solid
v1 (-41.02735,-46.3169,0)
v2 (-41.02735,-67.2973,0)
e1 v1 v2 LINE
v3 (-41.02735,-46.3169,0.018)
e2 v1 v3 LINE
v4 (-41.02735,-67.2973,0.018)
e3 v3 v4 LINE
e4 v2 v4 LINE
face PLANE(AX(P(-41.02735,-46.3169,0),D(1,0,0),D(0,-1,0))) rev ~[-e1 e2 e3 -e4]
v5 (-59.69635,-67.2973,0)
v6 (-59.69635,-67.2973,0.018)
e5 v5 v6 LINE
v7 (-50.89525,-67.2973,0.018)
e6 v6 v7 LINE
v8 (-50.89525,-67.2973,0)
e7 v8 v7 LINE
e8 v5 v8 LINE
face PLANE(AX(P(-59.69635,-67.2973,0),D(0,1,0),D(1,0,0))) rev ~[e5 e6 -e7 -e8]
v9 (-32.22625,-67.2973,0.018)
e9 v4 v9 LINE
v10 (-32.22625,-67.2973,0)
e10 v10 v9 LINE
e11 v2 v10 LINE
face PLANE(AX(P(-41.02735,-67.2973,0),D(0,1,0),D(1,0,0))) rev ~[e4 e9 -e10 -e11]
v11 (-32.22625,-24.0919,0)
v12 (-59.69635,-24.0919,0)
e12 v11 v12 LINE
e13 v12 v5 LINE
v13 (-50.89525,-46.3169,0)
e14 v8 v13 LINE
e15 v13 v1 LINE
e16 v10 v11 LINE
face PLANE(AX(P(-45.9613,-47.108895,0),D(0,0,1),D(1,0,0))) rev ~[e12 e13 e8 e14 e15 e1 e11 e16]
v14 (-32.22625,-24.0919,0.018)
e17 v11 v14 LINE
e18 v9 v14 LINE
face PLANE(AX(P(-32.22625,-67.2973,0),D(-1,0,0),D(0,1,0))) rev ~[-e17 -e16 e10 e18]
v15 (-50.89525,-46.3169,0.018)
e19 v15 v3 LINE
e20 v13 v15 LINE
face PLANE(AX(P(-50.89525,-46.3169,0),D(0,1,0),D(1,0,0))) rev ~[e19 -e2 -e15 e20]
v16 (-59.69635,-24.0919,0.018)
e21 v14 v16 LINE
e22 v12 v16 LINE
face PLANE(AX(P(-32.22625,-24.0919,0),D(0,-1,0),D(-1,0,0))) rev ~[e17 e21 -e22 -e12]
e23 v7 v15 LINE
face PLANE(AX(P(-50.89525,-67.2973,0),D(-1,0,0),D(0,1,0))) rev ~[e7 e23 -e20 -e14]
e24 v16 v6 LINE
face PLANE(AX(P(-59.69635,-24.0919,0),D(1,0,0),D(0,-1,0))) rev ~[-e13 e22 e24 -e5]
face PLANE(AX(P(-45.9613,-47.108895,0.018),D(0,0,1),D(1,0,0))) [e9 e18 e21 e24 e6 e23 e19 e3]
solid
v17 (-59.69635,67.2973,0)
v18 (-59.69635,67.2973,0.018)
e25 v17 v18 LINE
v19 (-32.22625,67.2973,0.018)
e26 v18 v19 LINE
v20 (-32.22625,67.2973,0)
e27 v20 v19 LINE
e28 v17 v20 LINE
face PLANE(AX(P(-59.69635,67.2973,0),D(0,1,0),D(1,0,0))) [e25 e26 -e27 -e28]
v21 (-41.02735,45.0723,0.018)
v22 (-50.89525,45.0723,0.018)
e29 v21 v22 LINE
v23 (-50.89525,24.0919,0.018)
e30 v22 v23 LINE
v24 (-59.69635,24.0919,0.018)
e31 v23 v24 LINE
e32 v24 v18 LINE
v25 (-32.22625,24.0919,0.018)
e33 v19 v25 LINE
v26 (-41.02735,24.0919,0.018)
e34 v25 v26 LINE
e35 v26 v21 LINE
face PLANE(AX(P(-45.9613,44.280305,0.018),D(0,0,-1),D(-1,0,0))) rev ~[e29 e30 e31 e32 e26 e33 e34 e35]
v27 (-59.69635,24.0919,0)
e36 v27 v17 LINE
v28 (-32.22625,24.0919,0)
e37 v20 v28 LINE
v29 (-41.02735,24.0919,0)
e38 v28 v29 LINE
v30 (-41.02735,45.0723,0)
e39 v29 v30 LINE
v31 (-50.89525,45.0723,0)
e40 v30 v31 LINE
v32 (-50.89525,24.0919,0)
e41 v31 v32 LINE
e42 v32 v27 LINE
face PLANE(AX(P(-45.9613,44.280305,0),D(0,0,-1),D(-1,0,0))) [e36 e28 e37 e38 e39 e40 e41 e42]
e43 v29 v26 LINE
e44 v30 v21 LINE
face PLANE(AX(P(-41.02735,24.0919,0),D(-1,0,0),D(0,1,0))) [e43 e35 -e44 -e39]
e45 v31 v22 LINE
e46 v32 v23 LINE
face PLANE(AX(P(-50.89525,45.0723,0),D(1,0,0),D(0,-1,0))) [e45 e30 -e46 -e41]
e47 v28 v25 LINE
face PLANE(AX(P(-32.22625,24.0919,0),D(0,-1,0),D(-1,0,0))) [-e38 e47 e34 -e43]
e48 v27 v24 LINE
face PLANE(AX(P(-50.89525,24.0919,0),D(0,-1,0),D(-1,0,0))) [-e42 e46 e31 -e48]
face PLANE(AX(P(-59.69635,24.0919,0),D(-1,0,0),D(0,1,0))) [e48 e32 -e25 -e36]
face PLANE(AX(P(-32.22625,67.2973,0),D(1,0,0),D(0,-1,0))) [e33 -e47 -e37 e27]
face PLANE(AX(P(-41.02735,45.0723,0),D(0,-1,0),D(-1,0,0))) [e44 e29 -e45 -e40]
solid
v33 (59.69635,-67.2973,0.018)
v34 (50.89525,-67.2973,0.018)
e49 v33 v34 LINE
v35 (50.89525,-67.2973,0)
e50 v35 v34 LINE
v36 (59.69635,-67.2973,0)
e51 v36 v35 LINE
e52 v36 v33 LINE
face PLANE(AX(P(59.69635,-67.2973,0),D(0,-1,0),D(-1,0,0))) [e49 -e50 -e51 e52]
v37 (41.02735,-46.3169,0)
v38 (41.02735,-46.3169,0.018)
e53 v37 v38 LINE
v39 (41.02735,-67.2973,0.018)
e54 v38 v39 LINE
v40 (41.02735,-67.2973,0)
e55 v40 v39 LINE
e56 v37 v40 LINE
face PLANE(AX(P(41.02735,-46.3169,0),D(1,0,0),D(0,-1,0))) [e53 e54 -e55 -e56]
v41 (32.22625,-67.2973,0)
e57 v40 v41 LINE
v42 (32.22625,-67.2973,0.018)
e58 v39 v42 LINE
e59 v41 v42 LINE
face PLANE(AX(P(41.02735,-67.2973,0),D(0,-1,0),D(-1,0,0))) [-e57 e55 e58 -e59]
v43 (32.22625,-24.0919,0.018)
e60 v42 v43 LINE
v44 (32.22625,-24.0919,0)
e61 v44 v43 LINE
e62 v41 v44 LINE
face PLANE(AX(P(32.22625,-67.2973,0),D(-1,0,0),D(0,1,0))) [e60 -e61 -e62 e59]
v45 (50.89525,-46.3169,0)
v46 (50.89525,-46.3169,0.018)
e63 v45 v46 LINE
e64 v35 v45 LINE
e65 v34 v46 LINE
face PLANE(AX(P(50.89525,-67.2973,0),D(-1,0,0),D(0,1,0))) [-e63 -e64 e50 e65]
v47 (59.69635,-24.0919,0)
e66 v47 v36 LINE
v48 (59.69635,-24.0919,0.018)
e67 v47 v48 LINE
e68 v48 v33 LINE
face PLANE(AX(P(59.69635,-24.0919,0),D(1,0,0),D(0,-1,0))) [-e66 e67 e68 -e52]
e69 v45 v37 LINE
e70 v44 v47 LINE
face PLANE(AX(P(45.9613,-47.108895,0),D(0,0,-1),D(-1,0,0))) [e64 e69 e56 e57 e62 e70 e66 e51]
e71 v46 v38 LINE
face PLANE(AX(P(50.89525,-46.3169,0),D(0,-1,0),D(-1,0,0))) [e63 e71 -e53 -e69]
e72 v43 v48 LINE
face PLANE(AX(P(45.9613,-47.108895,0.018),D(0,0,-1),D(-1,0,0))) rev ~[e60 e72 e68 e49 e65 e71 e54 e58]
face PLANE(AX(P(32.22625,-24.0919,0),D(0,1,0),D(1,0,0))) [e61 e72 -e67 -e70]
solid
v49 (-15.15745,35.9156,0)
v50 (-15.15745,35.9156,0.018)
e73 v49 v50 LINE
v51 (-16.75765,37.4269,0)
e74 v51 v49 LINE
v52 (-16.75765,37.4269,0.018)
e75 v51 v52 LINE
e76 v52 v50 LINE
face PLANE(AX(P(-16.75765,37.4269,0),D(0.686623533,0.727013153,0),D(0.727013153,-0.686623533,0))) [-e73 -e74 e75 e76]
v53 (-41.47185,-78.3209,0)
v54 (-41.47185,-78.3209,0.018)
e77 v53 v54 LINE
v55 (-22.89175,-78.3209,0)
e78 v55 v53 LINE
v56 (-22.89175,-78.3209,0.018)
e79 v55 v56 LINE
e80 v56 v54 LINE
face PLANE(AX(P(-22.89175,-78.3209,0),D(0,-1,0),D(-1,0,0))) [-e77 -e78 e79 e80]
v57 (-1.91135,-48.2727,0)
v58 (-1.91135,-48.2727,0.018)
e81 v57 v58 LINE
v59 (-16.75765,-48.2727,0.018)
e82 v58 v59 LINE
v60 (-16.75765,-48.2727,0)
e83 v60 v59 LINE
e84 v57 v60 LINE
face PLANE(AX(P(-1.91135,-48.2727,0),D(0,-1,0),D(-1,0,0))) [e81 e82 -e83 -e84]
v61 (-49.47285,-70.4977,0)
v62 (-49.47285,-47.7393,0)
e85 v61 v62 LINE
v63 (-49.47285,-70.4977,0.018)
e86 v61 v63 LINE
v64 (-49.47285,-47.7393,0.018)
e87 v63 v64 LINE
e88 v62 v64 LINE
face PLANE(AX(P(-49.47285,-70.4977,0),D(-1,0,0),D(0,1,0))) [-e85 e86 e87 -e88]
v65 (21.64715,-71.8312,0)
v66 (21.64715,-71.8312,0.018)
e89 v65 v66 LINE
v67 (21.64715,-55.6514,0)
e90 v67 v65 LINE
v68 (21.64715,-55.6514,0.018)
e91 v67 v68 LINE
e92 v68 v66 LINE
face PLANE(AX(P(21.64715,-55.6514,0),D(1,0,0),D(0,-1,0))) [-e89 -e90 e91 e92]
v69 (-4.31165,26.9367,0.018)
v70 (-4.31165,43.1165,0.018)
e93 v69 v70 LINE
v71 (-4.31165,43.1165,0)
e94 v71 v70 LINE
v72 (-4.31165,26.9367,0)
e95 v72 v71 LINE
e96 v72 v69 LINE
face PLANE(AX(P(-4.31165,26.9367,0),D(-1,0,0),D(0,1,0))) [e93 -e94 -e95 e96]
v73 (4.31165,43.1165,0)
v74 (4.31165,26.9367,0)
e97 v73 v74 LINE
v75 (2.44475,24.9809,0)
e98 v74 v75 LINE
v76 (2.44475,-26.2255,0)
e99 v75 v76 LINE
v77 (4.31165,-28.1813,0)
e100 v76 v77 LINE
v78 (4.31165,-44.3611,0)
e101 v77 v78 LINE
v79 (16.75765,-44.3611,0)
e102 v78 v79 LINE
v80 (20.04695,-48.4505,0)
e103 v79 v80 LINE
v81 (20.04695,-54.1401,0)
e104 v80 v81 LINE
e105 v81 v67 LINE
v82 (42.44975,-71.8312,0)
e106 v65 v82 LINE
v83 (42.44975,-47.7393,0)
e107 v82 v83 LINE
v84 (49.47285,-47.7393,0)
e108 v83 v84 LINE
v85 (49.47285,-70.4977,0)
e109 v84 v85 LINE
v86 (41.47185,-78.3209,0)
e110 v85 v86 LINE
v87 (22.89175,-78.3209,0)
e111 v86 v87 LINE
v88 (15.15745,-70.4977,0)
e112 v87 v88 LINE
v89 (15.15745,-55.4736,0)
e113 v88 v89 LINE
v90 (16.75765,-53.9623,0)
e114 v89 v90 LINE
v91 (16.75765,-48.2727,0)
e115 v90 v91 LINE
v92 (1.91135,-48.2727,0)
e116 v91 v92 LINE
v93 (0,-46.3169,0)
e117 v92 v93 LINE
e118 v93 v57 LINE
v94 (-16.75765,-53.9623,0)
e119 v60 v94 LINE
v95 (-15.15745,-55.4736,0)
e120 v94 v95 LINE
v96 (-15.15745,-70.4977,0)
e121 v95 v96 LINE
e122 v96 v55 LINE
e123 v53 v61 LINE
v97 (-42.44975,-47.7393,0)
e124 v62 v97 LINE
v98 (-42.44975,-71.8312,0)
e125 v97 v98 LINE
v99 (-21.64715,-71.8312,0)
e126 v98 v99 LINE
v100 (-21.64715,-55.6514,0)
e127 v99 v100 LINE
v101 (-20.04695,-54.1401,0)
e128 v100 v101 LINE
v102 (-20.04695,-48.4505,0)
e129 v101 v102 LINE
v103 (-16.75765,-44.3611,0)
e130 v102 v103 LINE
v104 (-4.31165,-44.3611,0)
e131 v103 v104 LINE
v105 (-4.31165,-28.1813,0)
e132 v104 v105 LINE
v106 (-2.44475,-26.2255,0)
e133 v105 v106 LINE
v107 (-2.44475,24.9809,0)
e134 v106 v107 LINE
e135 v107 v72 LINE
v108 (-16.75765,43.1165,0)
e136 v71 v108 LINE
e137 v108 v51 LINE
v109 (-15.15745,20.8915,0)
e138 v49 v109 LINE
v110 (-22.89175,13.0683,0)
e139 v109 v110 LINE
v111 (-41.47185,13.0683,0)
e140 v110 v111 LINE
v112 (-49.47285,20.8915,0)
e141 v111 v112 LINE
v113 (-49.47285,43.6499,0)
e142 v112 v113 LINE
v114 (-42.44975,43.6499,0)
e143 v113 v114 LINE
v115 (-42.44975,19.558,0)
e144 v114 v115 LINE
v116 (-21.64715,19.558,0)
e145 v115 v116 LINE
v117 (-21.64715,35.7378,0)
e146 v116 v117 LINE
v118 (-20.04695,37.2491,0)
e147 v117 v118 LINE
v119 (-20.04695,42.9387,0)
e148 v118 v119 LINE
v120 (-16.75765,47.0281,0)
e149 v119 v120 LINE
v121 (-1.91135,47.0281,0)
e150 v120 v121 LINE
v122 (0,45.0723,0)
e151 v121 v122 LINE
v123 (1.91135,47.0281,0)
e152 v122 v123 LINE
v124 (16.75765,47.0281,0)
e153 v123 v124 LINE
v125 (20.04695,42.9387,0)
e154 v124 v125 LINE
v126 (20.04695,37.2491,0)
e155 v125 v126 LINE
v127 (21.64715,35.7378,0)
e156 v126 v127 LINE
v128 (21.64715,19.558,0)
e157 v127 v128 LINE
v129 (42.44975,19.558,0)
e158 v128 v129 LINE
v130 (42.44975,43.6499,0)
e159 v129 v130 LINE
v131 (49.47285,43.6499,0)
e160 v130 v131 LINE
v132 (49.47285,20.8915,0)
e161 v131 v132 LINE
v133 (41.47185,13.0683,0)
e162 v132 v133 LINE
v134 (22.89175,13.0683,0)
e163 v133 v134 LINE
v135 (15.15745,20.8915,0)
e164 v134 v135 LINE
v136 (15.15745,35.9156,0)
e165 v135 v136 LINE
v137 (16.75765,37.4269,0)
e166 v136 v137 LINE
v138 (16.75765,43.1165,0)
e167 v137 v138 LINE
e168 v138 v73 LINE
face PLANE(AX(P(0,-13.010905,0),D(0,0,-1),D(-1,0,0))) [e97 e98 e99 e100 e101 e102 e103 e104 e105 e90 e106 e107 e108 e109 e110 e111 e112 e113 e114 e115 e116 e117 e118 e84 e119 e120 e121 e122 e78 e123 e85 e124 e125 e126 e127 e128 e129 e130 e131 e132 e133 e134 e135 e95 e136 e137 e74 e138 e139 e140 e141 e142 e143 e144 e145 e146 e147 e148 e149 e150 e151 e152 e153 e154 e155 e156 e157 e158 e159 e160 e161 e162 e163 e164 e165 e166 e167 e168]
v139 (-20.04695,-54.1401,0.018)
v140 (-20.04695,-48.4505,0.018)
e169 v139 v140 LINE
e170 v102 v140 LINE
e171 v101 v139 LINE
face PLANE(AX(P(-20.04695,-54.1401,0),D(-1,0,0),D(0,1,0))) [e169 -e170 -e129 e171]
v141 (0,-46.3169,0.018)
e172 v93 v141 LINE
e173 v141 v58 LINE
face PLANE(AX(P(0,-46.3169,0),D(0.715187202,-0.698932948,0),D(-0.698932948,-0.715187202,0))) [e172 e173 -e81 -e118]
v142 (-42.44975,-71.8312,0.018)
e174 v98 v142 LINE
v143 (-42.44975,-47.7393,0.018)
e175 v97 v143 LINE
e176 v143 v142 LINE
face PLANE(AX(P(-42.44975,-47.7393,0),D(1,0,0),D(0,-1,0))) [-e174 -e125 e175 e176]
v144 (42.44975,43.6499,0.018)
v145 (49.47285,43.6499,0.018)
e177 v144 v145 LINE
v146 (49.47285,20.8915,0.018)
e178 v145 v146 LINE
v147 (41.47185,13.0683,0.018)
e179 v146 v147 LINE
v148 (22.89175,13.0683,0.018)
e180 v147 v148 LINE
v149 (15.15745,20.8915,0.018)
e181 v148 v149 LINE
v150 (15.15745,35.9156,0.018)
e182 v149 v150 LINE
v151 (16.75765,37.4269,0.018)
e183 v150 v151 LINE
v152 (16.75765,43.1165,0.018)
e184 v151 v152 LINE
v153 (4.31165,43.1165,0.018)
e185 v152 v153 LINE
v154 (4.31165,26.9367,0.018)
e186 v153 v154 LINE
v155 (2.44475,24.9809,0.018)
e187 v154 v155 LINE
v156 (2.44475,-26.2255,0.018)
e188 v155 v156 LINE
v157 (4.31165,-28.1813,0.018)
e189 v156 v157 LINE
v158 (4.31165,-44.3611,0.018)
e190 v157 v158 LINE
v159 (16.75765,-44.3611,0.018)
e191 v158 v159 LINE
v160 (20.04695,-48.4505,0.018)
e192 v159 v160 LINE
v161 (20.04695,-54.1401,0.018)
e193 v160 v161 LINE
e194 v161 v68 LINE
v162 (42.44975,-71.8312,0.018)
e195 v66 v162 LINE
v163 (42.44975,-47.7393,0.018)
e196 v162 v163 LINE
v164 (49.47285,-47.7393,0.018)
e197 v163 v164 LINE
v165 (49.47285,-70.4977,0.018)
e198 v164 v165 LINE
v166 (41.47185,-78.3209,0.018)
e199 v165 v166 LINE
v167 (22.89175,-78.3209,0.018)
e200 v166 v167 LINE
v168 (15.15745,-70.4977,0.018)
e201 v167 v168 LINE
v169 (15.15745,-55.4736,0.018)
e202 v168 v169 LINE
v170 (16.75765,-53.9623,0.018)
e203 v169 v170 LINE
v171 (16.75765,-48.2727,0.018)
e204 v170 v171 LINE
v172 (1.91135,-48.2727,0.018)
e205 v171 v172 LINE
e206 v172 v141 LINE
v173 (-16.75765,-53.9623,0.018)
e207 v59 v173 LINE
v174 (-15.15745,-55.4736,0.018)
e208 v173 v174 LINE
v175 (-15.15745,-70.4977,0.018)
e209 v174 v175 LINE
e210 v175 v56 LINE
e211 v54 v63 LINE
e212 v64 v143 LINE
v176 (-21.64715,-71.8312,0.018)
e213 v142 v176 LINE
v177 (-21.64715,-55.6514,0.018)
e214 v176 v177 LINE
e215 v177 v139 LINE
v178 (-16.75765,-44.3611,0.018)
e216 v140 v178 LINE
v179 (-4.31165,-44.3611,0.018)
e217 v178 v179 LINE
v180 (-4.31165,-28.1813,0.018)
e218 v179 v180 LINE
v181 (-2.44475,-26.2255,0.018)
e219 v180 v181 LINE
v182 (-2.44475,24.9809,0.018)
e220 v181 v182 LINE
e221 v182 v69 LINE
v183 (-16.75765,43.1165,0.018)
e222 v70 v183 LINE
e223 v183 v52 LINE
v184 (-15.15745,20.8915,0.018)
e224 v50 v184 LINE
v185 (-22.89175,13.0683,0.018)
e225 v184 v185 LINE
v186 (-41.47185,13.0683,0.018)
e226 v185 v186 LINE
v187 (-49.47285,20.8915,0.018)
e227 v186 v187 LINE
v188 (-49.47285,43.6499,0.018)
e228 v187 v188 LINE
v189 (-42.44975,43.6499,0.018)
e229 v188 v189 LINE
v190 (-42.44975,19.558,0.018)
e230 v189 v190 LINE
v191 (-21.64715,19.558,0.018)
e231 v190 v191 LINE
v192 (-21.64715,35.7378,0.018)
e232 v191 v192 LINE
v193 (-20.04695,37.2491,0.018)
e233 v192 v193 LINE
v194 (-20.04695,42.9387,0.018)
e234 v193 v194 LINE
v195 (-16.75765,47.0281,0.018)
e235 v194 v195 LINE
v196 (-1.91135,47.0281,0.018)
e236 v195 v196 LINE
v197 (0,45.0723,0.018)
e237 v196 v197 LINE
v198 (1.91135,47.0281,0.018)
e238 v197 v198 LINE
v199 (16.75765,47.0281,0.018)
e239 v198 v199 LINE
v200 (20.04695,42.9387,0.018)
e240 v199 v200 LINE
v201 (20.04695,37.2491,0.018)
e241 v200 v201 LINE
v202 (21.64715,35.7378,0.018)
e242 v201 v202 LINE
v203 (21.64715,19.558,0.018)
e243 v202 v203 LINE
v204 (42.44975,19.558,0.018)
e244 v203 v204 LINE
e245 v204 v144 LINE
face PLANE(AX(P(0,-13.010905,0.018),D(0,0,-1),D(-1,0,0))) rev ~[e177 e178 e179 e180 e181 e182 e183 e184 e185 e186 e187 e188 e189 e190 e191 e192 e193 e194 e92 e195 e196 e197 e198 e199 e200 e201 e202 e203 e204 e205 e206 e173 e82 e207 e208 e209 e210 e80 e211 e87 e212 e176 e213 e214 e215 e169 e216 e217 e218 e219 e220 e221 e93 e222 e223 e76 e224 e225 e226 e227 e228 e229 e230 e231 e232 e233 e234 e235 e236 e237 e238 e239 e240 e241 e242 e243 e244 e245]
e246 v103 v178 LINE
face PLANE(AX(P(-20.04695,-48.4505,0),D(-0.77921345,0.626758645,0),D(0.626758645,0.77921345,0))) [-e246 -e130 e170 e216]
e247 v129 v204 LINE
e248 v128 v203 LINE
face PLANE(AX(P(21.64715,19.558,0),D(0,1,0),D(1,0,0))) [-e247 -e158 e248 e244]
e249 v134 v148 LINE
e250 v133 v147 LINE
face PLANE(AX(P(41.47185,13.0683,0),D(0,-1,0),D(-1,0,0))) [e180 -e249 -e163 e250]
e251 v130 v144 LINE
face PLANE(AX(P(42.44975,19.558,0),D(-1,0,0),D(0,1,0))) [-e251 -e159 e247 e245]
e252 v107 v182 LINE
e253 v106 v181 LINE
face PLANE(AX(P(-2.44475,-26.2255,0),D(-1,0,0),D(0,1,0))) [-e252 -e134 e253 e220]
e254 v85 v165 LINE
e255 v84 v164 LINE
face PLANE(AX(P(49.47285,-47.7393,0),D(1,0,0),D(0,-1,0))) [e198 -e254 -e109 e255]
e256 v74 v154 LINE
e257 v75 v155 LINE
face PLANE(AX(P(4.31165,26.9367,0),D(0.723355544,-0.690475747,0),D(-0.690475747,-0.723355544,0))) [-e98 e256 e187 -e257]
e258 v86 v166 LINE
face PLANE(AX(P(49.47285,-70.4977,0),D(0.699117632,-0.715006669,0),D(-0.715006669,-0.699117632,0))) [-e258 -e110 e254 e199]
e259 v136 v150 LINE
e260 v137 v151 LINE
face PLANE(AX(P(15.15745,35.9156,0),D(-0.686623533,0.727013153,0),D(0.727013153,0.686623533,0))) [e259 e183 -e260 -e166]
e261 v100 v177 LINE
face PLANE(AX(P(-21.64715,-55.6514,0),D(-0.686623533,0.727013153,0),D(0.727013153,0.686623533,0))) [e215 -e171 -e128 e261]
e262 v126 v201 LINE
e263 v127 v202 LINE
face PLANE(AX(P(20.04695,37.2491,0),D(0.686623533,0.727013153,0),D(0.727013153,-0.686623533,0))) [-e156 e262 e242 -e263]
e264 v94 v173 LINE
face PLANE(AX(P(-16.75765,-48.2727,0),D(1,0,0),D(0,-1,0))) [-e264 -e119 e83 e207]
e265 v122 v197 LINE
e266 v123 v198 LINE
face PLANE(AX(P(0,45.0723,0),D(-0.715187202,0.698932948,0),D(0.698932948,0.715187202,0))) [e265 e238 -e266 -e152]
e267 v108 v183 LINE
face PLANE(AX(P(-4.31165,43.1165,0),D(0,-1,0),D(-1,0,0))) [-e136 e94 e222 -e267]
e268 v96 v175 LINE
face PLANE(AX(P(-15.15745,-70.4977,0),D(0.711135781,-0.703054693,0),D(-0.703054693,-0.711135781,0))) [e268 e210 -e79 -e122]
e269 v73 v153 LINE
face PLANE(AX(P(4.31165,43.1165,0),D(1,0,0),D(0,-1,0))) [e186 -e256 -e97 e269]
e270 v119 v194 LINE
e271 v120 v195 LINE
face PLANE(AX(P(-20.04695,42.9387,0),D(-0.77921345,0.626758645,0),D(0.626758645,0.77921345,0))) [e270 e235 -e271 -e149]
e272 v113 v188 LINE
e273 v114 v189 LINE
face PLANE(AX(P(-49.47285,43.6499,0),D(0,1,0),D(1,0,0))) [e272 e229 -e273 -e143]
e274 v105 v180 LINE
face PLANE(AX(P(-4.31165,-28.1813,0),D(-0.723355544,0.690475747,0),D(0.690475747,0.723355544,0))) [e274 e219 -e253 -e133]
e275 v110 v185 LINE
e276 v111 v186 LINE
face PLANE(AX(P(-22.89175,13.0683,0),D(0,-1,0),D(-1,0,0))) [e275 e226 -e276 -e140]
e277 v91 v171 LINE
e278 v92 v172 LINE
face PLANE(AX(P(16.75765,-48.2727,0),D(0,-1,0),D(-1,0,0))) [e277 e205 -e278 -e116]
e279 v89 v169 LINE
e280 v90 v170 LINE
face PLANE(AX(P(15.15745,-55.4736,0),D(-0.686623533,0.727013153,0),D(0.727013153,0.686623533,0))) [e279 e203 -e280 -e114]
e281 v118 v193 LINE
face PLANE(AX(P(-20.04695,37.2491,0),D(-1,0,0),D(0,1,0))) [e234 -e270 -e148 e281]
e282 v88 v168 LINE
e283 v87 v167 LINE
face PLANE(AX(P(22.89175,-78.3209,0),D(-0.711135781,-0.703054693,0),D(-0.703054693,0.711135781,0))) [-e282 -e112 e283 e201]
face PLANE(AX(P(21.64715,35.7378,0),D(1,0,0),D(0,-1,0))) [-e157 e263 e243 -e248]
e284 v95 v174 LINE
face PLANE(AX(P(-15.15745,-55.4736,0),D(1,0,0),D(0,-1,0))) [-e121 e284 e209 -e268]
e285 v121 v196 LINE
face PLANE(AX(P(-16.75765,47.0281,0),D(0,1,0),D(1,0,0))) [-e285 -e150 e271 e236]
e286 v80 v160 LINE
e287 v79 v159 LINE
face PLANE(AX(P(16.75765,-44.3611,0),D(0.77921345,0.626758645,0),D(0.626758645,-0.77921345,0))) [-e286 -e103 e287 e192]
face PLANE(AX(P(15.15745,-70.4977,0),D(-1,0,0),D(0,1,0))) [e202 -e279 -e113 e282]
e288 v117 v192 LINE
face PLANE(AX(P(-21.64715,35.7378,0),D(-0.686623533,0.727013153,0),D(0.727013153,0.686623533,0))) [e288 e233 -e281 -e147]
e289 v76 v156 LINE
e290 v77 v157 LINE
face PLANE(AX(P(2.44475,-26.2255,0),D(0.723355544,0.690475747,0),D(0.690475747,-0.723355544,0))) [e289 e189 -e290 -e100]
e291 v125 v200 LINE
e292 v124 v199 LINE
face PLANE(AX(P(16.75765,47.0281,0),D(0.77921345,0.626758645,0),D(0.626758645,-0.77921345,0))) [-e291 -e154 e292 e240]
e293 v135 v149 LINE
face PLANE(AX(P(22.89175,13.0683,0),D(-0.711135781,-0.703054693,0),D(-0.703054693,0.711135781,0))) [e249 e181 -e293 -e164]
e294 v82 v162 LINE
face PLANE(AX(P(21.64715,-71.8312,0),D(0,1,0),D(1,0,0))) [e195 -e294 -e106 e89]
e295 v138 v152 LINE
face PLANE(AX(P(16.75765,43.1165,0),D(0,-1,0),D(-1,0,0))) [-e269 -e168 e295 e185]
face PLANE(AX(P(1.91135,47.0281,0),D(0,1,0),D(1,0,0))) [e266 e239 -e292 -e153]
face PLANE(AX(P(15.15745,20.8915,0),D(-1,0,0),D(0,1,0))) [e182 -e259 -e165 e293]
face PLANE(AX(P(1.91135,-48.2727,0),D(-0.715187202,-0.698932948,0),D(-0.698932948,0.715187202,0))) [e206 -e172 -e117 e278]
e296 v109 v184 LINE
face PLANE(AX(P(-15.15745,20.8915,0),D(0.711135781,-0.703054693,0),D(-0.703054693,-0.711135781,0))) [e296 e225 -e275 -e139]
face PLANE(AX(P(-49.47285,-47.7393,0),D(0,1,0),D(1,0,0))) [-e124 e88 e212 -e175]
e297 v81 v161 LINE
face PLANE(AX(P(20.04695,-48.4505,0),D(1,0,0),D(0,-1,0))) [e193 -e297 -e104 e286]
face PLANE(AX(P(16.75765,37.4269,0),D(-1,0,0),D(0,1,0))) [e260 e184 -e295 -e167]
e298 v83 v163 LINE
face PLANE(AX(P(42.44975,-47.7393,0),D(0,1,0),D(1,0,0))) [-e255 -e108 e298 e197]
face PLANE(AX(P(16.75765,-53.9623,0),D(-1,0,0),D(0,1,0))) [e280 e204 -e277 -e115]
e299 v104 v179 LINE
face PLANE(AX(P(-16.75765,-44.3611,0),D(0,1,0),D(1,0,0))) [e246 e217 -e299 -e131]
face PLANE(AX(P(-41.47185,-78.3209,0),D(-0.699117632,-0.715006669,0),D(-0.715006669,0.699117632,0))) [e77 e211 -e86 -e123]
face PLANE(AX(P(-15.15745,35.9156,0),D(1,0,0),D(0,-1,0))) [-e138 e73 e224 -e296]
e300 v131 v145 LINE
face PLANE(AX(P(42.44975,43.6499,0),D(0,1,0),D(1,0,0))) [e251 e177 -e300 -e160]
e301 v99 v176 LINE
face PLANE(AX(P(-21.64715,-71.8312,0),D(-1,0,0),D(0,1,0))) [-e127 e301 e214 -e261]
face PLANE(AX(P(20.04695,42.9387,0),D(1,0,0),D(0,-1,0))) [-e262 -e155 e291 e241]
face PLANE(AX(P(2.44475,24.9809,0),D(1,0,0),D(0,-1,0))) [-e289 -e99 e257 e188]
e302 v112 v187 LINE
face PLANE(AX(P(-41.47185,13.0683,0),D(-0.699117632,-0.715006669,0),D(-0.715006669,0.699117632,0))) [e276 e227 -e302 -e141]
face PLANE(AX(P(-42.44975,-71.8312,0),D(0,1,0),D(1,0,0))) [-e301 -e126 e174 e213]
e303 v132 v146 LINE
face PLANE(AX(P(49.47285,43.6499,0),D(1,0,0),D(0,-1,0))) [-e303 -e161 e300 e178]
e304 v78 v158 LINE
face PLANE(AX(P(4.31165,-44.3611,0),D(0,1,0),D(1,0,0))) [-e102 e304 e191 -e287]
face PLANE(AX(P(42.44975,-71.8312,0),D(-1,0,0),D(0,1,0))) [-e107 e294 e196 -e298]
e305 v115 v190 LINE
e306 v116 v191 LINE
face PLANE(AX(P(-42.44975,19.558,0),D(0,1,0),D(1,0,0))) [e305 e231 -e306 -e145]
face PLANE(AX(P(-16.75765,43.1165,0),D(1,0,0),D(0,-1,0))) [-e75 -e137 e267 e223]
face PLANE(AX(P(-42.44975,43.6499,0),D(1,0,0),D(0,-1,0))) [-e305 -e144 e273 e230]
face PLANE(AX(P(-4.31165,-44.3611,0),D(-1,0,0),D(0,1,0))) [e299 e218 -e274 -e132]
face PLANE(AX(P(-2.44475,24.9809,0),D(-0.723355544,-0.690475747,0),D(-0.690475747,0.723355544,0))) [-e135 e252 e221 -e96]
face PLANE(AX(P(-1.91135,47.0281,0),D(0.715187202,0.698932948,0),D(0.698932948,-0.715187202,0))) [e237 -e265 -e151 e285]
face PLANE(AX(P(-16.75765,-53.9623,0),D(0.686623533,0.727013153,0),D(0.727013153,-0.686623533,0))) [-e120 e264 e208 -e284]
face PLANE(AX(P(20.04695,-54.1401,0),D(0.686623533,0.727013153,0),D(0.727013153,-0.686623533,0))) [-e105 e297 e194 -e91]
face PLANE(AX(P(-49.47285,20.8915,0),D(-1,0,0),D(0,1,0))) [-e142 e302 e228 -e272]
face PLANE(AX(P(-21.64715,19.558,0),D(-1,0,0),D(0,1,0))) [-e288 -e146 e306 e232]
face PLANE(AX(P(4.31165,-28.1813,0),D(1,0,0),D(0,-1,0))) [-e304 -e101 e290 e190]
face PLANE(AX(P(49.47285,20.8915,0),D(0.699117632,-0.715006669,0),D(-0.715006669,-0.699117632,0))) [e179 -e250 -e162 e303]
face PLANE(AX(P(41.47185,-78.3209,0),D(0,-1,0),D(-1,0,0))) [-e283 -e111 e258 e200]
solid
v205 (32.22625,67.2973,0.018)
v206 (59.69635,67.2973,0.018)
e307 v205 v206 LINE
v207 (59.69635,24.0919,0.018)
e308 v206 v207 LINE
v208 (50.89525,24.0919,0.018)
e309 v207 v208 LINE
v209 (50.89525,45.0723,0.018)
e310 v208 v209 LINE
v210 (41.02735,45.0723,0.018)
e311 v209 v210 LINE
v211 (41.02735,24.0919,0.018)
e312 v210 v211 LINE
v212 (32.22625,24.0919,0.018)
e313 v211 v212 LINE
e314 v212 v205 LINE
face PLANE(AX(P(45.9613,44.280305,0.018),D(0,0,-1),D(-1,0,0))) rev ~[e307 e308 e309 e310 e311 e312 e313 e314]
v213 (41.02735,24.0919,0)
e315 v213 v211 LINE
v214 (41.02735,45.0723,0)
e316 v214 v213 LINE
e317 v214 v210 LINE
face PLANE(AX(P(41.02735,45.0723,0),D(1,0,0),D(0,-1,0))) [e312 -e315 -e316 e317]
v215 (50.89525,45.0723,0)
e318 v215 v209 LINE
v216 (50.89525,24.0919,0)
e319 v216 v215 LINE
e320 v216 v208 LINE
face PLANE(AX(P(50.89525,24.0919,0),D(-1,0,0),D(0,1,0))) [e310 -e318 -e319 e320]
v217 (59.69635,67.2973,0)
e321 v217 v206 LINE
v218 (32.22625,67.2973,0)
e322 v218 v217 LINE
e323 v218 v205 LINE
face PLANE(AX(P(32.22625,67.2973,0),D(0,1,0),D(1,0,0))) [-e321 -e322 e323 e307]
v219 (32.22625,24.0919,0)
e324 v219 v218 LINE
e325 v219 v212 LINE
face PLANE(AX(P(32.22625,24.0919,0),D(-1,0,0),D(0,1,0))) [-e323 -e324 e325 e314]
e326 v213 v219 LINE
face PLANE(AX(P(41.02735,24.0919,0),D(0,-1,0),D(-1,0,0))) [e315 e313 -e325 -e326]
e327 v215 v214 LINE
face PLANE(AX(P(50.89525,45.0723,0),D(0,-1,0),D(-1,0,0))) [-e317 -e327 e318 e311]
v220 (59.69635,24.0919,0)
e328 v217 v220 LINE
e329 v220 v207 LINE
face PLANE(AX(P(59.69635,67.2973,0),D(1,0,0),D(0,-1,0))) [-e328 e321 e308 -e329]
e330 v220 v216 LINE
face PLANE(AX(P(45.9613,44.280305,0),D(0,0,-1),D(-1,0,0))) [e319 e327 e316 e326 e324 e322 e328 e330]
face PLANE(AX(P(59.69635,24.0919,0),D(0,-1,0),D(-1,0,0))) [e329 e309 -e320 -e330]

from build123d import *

# Parameters (mm, degrees)
FEED_DEPTH    = 0.018
PATCH_DEPTH   = 0.018
PATCH_2_DEPTH = 0.018
PATCH_3_DEPTH = 0.018
PATCH_4_DEPTH = 0.018


with BuildPart() as part:
    # Feed1 → Feed (new body)
    with BuildSketch(Plane.XY):
        Polygon((-49.47285, 43.6499), (-42.44975, 43.6499), (-42.44975, 19.558), (-21.64715, 19.558), (-21.64715, 35.7378), (-20.04695, 37.2491), (-20.04695, 42.9387), (-16.75765, 47.0281), (-1.91135, 47.0281), (0, 45.0723), (1.91135, 47.0281), (16.75765, 47.0281), (20.04695, 42.9387), (20.04695, 37.2491), (21.64715, 35.7378), (21.64715, 19.558), (42.44975, 19.558), (42.44975, 43.6499), (49.47285, 43.6499), (49.47285, 20.8915), (41.47185, 13.0683), (22.89175, 13.0683), (15.15745, 20.8915), (15.15745, 35.9156), (16.75765, 37.4269), (16.75765, 43.1165), (4.31165, 43.1165), (4.31165, 26.9367), (2.44475, 24.9809), (2.44475, -26.2255), (4.31165, -28.1813), (4.31165, -44.3611), (16.75765, -44.3611), (20.04695, -48.4505), (20.04695, -54.1401), (21.64715, -55.6514), (21.64715, -71.8312), (42.44975, -71.8312), (42.44975, -47.7393), (49.47285, -47.7393), (49.47285, -70.4977), (41.47185, -78.3209), (22.89175, -78.3209), (15.15745, -70.4977), (15.15745, -55.4736), (16.75765, -53.9623), (16.75765, -48.2727), (1.91135, -48.2727), (0, -46.3169), (-1.91135, -48.2727), (-16.75765, -48.2727), (-16.75765, -53.9623), (-15.15745, -55.4736), (-15.15745, -70.4977), (-22.89175, -78.3209), (-41.47185, -78.3209), (-49.47285, -70.4977), (-49.47285, -47.7393), (-42.44975, -47.7393), (-42.44975, -71.8312), (-21.64715, -71.8312), (-21.64715, -55.6514), (-20.04695, -54.1401), (-20.04695, -48.4505), (-16.75765, -44.3611), (-4.31165, -44.3611), (-4.31165, -28.1813), (-2.44475, -26.2255), (-2.44475, 24.9809), (-4.31165, 26.9367), (-4.31165, 43.1165), (-16.75765, 43.1165), (-16.75765, 37.4269), (-15.15745, 35.9156), (-15.15745, 20.8915), (-22.89175, 13.0683), (-41.47185, 13.0683), (-49.47285, 20.8915), align=None)
    extrude(amount=FEED_DEPTH)


with BuildPart() as body_2:
    # Patch1 → Patch (new body)
    with BuildSketch(Plane.XY):
        Polygon((-59.69635, 67.2973), (-32.22625, 67.2973), (-32.22625, 24.0919), (-41.02735, 24.0919), (-41.02735, 45.0723), (-50.89525, 45.0723), (-50.89525, 24.0919), (-59.69635, 24.0919), align=None)
    extrude(amount=PATCH_DEPTH)


with BuildPart() as body_3:
    # Patch1 → Patch 2 (new body)
    with BuildSketch(Plane.XY):
        Polygon((41.02735, 24.0919), (32.22625, 24.0919), (32.22625, 67.2973), (59.69635, 67.2973), (59.69635, 24.0919), (50.89525, 24.0919), (50.89525, 45.0723), (41.02735, 45.0723), align=None)
    extrude(amount=PATCH_2_DEPTH)


with BuildPart() as body_4:
    # Patch1 → Patch 3 (new body)
    with BuildSketch(Plane.XY):
        Polygon((-41.02735, -67.2973), (-32.22625, -67.2973), (-32.22625, -24.0919), (-59.69635, -24.0919), (-59.69635, -67.2973), (-50.89525, -67.2973), (-50.89525, -46.3169), (-41.02735, -46.3169), align=None)
    extrude(amount=PATCH_3_DEPTH)


with BuildPart() as body_5:
    # Patch1 → Patch 4 (new body)
    with BuildSketch(Plane.XY):
        Polygon((59.69635, -67.2973), (50.89525, -67.2973), (50.89525, -46.3169), (41.02735, -46.3169), (41.02735, -67.2973), (32.22625, -67.2973), (32.22625, -24.0919), (59.69635, -24.0919), align=None)
    extrude(amount=PATCH_4_DEPTH)


solid = Compound([part.part, body_2.part, body_3.part, body_4.part, body_5.part])
